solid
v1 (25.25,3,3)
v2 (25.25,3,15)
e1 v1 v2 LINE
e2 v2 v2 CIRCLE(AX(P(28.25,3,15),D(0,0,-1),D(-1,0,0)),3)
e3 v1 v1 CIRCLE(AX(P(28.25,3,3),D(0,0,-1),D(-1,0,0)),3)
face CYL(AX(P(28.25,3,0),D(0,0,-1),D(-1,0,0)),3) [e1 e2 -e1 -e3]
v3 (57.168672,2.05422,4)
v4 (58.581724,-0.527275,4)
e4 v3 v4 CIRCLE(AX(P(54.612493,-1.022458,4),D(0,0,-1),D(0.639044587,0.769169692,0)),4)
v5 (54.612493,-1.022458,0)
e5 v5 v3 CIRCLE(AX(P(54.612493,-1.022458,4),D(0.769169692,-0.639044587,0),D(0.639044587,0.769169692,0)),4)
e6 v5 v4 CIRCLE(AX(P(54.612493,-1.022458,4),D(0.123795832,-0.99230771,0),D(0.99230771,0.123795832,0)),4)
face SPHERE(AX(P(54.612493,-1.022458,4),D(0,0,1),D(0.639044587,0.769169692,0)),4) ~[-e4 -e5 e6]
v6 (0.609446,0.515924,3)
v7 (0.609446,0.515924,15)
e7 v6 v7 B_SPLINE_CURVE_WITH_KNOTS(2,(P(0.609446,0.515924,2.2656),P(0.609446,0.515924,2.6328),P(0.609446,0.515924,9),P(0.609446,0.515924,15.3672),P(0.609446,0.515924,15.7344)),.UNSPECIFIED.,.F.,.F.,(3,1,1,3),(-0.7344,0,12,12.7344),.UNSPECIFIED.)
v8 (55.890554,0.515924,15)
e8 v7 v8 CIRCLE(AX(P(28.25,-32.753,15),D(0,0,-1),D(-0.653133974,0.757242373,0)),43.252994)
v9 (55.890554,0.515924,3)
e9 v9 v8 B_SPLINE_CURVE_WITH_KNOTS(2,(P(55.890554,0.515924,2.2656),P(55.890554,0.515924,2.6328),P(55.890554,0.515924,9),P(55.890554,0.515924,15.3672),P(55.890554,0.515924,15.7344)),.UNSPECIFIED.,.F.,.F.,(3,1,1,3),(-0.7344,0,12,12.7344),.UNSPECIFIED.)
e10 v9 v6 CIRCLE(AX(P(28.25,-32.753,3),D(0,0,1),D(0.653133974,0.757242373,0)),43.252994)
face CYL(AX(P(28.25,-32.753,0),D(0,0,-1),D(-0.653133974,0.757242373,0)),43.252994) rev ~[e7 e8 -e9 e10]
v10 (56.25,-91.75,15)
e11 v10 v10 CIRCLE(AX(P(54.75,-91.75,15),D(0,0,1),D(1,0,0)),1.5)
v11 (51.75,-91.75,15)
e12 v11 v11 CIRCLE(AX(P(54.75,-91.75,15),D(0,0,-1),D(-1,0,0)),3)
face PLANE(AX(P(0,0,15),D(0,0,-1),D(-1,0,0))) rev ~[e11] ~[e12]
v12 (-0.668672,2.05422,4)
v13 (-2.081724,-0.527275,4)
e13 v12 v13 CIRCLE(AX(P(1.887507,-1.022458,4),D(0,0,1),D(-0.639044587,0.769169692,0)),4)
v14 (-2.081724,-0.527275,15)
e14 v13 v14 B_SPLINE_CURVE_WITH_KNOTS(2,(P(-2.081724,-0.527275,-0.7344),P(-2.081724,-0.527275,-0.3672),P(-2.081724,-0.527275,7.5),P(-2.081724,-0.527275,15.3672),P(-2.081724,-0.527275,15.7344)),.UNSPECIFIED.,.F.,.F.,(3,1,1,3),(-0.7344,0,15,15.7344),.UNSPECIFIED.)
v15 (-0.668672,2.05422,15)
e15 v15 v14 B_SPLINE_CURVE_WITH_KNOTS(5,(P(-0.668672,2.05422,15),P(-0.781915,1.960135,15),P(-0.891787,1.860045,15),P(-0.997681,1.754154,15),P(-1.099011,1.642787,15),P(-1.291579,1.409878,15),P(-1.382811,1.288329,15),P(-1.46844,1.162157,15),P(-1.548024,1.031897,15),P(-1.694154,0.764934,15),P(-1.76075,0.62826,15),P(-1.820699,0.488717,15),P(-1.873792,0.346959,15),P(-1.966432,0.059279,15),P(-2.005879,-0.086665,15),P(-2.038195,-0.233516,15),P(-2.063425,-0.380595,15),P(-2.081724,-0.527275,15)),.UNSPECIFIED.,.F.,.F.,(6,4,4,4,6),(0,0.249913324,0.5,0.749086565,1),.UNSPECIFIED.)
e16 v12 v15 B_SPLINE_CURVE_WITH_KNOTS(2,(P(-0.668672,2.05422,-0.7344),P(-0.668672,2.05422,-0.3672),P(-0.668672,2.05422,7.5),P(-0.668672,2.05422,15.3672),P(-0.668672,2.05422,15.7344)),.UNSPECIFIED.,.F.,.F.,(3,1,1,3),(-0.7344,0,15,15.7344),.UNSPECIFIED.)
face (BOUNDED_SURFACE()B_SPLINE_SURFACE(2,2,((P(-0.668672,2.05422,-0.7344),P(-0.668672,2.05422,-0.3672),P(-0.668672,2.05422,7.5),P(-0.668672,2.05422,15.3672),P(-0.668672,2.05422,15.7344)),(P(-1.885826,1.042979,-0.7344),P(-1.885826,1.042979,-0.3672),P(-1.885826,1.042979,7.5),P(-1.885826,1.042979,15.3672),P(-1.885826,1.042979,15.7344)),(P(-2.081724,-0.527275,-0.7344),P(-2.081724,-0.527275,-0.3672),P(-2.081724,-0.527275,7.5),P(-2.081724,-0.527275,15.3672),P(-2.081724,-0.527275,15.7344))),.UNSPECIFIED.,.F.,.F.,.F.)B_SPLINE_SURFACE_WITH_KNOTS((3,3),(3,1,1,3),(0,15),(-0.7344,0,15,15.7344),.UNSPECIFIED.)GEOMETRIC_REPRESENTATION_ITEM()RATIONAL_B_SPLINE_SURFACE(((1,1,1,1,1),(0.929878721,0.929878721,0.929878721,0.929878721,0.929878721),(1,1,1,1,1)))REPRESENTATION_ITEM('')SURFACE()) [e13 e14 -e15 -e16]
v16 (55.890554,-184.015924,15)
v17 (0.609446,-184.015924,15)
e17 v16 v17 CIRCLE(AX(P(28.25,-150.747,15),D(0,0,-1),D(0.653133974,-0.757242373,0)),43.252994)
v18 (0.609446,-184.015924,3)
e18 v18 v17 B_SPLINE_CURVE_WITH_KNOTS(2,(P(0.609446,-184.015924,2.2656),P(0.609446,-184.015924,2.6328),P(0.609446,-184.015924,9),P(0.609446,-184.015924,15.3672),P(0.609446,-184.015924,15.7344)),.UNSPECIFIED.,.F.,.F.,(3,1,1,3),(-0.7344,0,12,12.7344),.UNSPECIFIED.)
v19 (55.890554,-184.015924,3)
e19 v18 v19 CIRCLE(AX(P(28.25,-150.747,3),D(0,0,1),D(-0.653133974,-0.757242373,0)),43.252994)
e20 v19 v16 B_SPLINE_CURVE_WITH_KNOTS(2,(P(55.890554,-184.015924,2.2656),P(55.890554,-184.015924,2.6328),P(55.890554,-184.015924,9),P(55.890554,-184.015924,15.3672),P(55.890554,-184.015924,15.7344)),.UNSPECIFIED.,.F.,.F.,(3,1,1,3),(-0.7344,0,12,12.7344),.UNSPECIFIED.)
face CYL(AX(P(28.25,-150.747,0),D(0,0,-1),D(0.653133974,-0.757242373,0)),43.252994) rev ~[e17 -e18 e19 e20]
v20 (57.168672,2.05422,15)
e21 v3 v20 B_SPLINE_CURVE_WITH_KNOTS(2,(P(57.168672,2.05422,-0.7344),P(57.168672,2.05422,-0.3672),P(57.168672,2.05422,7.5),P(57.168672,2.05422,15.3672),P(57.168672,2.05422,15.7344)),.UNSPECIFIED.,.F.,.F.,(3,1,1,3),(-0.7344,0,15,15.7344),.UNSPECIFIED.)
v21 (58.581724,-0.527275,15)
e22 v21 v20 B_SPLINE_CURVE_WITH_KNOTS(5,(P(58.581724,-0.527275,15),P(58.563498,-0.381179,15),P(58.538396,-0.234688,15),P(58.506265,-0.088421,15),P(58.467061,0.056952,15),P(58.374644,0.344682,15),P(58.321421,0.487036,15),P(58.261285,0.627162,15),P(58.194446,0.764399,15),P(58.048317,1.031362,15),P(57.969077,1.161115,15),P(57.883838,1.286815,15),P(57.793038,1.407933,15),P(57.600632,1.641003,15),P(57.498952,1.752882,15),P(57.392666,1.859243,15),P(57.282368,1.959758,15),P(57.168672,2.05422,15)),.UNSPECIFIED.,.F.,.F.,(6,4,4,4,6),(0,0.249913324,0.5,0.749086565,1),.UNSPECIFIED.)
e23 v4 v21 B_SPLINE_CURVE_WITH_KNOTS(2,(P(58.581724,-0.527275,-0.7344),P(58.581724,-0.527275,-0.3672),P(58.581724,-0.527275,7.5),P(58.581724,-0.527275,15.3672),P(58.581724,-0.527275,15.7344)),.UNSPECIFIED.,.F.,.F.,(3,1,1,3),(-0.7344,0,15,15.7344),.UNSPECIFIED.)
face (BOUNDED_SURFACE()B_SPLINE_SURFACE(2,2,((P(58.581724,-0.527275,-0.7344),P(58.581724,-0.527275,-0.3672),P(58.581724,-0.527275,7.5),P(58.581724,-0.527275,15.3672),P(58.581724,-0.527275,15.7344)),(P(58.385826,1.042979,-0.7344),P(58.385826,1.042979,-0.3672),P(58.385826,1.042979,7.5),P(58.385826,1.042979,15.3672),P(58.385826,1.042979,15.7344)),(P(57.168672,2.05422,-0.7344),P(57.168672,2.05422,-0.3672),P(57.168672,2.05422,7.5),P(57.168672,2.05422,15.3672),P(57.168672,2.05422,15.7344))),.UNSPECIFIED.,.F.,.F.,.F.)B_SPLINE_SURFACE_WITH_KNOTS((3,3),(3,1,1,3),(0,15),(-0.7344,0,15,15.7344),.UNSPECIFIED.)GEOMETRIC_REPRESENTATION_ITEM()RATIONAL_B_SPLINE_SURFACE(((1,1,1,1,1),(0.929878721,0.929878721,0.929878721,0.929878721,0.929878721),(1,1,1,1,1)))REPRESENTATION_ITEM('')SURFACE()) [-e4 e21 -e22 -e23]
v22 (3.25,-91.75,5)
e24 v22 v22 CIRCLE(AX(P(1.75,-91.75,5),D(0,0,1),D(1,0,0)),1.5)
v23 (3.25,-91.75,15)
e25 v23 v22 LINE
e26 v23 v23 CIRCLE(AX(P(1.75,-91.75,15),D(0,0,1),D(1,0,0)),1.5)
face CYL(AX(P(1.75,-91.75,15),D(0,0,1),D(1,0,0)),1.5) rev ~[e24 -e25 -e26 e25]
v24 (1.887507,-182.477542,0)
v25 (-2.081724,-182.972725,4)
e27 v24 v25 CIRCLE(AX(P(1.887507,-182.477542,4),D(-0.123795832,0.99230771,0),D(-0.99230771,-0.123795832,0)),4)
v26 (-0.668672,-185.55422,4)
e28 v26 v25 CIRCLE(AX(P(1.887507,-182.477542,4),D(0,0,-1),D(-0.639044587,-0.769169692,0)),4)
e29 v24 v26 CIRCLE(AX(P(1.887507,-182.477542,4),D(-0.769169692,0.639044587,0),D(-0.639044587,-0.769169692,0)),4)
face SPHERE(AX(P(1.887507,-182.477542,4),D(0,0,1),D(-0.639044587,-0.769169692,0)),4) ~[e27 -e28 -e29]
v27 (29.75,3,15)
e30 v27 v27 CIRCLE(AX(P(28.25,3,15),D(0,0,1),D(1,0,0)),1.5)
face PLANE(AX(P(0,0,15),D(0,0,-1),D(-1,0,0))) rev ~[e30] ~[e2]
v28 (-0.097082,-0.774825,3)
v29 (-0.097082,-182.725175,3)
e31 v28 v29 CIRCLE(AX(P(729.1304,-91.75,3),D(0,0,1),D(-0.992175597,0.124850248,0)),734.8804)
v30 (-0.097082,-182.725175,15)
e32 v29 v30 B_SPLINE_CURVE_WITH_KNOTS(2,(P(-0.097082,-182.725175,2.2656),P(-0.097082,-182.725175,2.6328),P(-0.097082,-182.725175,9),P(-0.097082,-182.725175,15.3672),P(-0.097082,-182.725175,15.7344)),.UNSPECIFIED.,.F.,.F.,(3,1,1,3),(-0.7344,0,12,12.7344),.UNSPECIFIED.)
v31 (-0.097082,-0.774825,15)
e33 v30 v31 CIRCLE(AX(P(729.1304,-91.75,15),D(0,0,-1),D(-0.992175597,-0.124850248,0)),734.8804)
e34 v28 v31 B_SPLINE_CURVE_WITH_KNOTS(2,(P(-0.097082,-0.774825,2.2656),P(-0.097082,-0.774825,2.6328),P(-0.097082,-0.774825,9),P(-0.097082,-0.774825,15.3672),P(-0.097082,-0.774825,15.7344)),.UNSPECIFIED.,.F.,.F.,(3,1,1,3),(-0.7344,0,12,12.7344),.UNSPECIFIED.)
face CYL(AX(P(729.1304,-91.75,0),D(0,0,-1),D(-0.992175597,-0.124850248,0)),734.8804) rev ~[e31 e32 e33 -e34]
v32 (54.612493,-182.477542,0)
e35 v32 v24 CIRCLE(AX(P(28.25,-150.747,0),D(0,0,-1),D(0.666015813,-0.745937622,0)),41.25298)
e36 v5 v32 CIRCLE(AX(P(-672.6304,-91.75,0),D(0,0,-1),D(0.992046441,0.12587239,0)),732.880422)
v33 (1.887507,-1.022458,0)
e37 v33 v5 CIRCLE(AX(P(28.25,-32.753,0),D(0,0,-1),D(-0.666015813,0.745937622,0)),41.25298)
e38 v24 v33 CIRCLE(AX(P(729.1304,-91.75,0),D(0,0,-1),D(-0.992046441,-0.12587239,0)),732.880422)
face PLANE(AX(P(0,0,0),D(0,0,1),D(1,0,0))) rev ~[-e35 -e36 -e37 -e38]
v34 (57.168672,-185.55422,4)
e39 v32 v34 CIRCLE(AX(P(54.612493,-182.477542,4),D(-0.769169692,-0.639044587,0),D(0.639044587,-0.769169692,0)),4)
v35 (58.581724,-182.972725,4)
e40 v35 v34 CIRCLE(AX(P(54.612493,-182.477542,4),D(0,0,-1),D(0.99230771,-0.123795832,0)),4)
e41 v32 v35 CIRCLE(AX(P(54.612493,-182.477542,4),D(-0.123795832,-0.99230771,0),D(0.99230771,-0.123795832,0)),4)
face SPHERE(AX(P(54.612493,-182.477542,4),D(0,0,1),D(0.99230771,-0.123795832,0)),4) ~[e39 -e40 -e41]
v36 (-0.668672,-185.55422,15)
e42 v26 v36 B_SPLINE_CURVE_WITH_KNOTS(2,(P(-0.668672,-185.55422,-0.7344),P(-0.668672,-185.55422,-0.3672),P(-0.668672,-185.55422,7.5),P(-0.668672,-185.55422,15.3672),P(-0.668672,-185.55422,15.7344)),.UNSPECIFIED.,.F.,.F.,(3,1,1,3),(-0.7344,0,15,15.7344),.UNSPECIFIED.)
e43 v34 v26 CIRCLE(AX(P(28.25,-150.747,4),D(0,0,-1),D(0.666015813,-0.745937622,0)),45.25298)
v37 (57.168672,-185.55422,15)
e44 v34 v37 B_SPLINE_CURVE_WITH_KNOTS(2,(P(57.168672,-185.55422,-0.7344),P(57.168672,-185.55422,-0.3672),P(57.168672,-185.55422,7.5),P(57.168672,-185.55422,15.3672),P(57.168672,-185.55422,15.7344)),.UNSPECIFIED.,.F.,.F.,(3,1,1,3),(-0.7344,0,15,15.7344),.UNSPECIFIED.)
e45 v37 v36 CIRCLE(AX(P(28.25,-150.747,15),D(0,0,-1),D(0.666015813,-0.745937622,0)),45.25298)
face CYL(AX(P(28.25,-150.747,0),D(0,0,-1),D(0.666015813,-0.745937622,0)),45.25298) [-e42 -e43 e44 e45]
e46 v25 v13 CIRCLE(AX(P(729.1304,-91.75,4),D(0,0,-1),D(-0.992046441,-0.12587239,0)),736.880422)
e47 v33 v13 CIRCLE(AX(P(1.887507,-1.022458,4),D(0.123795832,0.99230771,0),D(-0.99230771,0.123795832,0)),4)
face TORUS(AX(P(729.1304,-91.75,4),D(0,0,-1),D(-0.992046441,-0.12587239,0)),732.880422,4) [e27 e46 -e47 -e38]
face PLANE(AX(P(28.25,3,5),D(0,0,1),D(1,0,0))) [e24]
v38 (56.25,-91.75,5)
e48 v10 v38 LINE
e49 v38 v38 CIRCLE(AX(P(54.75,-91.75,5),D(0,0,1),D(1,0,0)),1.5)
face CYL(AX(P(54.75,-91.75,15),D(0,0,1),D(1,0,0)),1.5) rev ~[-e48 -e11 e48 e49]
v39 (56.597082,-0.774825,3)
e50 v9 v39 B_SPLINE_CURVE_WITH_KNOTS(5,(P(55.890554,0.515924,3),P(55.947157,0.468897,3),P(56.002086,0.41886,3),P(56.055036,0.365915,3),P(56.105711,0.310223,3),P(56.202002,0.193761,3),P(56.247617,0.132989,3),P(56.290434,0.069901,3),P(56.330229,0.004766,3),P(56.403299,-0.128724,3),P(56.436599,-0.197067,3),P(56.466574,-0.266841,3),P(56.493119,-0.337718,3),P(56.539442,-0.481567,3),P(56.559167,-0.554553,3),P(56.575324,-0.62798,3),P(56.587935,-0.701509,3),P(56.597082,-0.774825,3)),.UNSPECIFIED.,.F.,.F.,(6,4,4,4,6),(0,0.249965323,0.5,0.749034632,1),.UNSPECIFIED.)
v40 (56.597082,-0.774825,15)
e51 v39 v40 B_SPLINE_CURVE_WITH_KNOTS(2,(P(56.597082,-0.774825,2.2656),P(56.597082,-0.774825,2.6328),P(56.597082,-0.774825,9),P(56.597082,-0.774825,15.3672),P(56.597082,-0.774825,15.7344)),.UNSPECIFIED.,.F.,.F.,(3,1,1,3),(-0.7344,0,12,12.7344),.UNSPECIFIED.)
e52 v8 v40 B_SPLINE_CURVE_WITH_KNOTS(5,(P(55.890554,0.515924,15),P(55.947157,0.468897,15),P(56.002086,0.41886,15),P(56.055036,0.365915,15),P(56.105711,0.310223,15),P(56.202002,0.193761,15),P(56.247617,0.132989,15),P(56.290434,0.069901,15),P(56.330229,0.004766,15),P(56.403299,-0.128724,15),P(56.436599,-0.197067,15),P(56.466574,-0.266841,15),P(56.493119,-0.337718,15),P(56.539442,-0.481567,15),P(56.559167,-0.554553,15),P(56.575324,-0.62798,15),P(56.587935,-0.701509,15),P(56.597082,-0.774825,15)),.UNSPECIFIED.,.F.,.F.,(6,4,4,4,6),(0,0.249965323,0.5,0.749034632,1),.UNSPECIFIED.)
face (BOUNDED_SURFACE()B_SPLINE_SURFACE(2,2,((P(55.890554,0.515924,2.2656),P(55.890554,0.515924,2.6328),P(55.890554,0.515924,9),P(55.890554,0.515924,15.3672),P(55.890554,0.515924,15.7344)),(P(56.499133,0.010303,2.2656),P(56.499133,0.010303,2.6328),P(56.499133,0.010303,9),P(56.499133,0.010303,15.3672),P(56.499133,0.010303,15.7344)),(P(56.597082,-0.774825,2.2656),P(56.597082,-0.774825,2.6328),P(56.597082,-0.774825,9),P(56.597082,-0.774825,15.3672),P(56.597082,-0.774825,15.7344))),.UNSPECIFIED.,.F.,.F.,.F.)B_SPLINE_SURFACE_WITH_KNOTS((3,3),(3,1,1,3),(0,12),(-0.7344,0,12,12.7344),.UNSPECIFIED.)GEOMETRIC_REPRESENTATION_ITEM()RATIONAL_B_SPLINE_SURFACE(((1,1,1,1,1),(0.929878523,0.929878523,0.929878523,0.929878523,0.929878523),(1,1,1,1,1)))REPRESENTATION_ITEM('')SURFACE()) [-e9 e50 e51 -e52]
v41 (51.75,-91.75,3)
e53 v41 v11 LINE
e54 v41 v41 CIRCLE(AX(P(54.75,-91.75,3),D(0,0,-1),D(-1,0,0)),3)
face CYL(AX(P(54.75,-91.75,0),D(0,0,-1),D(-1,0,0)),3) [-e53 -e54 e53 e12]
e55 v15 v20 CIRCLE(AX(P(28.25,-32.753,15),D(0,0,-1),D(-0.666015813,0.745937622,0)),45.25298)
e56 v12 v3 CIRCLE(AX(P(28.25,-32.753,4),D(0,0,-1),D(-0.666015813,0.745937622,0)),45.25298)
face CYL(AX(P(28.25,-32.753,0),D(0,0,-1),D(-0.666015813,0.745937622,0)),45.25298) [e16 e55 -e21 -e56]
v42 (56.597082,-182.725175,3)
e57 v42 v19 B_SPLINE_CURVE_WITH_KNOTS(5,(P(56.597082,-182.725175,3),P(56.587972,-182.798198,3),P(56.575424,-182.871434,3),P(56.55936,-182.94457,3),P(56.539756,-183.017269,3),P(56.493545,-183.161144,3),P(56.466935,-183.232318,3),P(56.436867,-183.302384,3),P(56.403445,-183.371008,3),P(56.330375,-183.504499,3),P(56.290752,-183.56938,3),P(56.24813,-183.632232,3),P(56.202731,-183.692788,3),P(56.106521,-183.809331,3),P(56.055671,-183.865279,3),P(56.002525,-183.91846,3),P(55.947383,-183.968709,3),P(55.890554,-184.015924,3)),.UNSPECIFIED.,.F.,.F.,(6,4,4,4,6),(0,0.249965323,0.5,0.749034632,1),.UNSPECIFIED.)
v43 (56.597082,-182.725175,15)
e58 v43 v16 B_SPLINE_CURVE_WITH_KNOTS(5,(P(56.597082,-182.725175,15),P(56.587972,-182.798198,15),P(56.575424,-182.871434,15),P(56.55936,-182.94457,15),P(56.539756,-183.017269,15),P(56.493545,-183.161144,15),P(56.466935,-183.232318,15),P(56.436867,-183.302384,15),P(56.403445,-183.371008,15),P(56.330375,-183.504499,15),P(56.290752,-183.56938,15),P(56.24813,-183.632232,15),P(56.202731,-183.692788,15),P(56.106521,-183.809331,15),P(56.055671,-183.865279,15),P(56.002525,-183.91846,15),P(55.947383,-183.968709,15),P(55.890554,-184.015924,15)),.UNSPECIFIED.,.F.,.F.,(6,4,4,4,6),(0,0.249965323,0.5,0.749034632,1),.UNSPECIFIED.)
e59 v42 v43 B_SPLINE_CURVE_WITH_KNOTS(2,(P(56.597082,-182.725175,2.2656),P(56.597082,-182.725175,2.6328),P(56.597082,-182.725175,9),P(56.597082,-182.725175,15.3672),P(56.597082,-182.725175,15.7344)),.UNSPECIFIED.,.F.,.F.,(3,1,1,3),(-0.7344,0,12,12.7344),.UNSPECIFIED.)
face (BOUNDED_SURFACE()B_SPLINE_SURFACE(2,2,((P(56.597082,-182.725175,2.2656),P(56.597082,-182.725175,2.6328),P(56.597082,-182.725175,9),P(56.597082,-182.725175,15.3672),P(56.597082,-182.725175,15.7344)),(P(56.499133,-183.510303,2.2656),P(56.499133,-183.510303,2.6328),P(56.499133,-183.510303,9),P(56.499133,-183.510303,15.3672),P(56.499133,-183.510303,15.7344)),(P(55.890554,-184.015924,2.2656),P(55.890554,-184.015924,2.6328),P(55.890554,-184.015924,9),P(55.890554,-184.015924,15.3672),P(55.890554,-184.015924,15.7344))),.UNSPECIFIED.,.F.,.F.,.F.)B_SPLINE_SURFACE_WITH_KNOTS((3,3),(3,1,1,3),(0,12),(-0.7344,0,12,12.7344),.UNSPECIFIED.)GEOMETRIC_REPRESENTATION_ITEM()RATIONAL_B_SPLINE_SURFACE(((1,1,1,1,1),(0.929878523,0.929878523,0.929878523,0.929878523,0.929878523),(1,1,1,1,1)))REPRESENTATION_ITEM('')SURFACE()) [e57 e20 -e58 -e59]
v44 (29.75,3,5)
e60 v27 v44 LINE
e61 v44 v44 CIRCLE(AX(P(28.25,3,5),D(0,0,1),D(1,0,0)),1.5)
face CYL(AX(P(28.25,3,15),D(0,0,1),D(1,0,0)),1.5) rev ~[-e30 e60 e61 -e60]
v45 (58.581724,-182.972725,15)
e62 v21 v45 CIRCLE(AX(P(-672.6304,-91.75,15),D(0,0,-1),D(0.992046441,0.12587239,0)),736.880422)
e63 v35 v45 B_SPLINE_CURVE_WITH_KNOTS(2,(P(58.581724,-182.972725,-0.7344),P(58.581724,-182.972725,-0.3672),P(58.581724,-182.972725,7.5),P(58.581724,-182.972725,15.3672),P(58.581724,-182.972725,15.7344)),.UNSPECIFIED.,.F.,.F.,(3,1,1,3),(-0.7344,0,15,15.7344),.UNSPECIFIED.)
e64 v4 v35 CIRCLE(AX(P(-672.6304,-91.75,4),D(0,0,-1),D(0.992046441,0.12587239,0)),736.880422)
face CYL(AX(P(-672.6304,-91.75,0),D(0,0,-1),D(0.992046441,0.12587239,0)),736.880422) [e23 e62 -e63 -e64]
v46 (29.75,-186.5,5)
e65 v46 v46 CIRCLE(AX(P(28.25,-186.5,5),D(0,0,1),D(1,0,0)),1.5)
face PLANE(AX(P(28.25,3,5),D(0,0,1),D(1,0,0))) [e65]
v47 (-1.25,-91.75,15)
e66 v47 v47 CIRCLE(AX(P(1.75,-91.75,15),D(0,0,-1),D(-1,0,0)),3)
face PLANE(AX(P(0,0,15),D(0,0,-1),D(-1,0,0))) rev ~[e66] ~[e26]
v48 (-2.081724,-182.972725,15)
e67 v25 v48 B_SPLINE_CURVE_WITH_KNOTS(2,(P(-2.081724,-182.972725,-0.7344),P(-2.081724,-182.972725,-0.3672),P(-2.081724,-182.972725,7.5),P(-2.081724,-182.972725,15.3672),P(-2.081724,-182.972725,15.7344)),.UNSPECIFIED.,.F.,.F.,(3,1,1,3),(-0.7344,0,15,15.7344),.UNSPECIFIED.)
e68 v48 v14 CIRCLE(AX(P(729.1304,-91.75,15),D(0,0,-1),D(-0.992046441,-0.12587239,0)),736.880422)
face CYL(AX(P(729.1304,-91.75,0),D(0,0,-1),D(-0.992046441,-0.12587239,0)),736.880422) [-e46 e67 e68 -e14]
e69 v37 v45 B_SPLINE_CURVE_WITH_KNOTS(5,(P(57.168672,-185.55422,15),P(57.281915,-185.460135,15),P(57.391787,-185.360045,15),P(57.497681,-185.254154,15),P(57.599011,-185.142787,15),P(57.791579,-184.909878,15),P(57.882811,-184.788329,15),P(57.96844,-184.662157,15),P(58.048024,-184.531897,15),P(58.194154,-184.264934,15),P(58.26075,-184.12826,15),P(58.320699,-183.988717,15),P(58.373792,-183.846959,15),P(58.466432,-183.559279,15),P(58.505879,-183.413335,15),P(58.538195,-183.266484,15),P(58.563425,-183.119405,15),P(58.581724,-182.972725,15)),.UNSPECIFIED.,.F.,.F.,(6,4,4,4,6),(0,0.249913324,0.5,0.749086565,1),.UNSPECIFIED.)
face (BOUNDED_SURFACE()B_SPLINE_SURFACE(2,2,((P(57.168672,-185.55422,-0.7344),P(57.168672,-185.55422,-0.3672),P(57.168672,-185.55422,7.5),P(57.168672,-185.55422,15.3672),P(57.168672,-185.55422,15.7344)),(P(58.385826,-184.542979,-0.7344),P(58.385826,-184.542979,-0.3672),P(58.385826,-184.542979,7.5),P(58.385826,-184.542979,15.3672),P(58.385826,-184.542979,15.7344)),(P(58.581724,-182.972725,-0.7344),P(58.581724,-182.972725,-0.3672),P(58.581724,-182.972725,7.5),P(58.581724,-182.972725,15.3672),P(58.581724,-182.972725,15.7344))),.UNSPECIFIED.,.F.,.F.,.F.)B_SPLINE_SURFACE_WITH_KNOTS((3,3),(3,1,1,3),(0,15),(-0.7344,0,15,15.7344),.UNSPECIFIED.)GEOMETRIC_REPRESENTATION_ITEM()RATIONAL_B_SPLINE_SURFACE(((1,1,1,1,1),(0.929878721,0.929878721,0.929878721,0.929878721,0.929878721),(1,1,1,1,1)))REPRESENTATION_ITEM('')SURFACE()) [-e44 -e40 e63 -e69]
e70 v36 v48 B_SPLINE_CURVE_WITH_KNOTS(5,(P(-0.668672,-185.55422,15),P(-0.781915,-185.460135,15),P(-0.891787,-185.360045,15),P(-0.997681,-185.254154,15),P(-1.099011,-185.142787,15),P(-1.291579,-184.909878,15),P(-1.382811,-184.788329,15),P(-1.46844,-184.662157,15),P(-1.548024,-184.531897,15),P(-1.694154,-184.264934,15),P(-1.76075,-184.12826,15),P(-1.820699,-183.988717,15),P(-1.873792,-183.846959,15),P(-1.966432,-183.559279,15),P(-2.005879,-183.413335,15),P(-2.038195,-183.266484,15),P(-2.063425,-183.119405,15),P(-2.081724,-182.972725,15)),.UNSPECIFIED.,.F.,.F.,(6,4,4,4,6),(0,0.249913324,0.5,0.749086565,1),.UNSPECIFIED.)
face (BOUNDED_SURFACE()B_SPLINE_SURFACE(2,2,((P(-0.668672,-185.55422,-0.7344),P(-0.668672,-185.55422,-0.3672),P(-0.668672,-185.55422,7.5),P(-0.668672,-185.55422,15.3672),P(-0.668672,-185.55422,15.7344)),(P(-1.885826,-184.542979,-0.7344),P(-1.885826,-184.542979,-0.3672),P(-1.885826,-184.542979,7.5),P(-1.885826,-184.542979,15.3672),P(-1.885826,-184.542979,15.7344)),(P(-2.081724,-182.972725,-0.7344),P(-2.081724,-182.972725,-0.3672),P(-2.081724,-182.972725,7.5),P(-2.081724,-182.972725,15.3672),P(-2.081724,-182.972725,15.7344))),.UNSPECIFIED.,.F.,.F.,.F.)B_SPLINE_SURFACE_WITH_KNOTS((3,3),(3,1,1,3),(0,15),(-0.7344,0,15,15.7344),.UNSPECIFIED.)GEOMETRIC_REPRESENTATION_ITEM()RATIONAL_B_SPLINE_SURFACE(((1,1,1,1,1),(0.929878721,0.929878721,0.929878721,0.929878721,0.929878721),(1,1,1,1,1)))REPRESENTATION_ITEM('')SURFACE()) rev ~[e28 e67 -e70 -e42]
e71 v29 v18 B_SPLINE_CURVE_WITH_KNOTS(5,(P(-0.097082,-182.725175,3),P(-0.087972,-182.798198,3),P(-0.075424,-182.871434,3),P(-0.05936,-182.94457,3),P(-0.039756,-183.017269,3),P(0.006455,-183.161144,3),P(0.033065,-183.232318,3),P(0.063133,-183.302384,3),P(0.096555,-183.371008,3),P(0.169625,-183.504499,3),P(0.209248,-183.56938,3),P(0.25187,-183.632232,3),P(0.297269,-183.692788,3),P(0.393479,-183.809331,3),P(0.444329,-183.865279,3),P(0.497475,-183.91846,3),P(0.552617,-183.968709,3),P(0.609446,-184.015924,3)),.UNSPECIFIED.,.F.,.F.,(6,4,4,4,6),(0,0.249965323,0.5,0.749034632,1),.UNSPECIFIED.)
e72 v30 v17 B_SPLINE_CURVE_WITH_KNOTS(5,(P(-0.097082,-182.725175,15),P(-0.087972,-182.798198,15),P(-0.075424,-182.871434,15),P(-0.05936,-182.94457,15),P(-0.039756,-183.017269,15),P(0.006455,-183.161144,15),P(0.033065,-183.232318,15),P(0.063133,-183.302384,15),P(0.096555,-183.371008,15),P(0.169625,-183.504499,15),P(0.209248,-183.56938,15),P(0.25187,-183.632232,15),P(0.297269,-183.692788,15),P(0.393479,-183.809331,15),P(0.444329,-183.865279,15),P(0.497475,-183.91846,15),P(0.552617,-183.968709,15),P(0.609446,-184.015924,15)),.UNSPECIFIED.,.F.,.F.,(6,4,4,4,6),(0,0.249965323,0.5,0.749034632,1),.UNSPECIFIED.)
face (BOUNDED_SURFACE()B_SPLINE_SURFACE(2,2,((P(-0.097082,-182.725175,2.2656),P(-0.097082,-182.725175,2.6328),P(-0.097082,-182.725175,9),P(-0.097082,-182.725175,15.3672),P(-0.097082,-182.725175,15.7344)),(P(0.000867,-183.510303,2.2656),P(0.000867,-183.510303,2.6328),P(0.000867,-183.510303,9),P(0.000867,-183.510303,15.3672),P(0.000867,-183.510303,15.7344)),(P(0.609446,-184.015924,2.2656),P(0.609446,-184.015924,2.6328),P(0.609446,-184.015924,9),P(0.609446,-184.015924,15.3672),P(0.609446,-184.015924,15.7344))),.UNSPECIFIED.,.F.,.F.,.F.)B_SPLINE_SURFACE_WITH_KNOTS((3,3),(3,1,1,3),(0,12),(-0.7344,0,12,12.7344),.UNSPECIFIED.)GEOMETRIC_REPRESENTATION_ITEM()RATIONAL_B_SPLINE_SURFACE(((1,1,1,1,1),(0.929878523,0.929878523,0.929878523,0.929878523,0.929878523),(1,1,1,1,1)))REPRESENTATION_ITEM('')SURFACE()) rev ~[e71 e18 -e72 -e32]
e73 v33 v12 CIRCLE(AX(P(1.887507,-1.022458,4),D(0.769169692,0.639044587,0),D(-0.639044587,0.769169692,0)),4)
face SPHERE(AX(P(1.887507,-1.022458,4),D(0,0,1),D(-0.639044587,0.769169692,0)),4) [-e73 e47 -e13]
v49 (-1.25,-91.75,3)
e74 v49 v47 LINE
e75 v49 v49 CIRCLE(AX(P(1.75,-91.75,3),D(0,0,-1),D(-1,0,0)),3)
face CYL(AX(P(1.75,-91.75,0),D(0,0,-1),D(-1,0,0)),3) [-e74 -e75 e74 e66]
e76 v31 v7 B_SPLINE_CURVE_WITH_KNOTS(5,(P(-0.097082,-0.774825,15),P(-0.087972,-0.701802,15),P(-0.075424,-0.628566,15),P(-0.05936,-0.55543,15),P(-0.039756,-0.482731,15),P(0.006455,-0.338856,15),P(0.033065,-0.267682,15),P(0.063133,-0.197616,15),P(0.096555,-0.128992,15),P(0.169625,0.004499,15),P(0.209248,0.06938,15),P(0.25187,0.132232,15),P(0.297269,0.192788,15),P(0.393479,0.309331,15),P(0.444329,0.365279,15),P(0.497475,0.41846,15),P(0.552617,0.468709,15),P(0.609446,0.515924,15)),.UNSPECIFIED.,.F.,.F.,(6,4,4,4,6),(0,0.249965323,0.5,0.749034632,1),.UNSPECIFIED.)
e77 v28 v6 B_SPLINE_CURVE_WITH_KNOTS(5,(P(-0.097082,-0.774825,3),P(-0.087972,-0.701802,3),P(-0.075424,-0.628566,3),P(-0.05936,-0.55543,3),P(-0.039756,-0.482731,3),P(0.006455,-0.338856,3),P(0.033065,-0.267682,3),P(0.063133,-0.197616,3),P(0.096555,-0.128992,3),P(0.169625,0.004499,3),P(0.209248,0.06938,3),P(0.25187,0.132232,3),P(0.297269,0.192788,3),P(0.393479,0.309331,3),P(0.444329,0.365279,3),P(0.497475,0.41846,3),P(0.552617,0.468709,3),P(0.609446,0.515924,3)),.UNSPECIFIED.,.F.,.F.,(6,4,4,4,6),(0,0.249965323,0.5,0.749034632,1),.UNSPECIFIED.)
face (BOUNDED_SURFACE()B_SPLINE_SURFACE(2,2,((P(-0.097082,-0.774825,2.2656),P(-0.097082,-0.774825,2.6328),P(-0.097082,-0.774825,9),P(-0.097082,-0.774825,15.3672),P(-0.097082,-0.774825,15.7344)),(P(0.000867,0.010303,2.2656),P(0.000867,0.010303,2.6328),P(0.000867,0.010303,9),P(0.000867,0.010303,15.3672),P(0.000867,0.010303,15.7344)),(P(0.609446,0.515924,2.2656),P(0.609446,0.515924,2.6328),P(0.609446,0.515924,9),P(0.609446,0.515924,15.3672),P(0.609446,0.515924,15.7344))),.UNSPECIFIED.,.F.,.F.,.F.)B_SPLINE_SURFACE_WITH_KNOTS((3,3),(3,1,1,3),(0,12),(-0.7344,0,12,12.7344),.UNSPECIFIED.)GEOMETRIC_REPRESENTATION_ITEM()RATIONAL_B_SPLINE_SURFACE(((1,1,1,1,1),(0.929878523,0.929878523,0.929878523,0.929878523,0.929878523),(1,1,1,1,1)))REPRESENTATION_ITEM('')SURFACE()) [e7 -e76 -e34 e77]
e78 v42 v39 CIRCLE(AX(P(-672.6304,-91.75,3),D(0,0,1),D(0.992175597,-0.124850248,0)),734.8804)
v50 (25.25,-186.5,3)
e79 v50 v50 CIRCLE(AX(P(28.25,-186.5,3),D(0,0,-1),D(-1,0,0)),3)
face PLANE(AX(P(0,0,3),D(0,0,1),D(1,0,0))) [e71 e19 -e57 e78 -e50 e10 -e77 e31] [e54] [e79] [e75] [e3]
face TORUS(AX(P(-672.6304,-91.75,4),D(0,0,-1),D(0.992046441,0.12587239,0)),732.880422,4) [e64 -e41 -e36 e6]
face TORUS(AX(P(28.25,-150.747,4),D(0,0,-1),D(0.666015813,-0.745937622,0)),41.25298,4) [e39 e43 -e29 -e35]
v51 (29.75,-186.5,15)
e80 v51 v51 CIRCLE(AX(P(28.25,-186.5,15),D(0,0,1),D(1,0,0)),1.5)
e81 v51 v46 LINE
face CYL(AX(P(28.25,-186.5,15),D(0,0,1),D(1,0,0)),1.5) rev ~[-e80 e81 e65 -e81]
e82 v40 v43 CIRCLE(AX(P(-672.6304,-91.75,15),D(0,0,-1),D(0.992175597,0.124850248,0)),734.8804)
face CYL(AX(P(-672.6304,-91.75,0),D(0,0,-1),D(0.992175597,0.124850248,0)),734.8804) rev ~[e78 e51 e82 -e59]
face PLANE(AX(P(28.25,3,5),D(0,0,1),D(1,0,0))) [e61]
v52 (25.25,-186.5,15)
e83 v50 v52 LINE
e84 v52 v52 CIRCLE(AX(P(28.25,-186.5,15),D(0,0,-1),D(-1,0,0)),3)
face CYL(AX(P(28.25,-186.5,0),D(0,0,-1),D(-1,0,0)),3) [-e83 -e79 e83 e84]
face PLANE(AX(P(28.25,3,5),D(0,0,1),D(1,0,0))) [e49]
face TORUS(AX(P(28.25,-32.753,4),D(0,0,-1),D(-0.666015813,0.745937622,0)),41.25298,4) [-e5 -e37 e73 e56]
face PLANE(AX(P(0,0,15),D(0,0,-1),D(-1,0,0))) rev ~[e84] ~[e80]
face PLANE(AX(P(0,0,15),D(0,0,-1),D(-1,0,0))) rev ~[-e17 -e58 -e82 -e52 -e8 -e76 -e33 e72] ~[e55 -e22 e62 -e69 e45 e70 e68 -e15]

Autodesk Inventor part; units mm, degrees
ref_plane "YZ Plane" through (0, 0, 0) normal (1, 0, 0) x (0, 1, 0)
ref_plane "XZ Plane" through (0, 0, 0) normal (0, 1, 0) x (-1, 0, 0)
ref_plane "XY Plane" through (0, 0, 0) normal (0, 0, 1) x (1, 0, 0)
sketch "Skizze1" plane through (0, 0, 0) normal (0, 0, 1) x (1, 0, 0)
  line L0 (0, 0) -> (56.5, 0) construction
  line L1 (56.5, 0) -> (56.5, -183.5) construction
  line L2 (0, 0) -> (56.5, 0) construction
  line L3 (56.5, 0) -> (56.5, -183.5) construction
  line L4 (56.5, -183.5) -> (0, -183.5) construction
  line L5 (0, -183.5) -> (0, 0) construction
  line L6 (28.25, 0) -> (28.25, 3) construction
  line L7 (28.25, -183.5) -> (28.25, -186.5) construction
  line L8 (28.25, -91.75) -> (1.75, -91.75) construction
  line L9 (28.25, -91.75) -> (-5.75, -91.75) construction
  line L10 (28.25, -91.75) -> (54.75, -91.75) construction
  line L11 (28.25, -91.75) -> (62.25, -91.75) construction
  circle A0 centre (28.25, 3) radius 1.5
  circle A1 centre (28.25, 3) radius 3
  line L12 (28.25, 3) -> (28.25, 10.5) construction
  circle A2 centre (28.25, -186.5) radius 1.5
  circle A3 centre (28.25, -186.5) radius 3
  line L13 (28.25, -186.5) -> (28.25, -194) construction
  circle A4 centre (1.75, -91.75) radius 1.5
  circle A5 centre (1.75, -91.75) radius 3
  circle A6 centre (54.75, -91.75) radius 1.5
  circle A7 centre (54.75, -91.75) radius 3
  line L14 (28.25, -183.5) -> (28.25, -153.093) construction
  line L15 (0, 0) -> (-5.75, -91.75) construction
  line L16 (-5.75, -91.75) -> (0, -183.5) construction
  line L17 (62.25, -91.75) -> (56.25, 0) construction
  arc A8 (0, 0) -> (0, -183.5) centre (729.1304, -91.75) ccw
  line L18 (60.0727, -126.4918) -> (62.25, -91.75) construction
  arc A9 (56.5, 0) -> (0, 0) centre (28.25, -32.753) ccw
  arc A10 (56.5, -183.5) -> (56.5, 0) centre (-672.6304, -91.75) ccw
  arc A11 (0, -183.5) -> (56.5, -183.5) centre (28.25, -150.747) ccw
extrude "Extrusion1" add sketch "Skizze1" along normal blind 3 contours A9 A10 A11 A8
sketch "Skizze2" plane through (0, 0, 0) normal (0, 0, -1) x (-1, 0, 0)
  circle A0 centre (-54.75, -91.75) radius 3 construction
  circle A1 centre (-1.75, -91.75) radius 3 construction
  circle A2 centre (-28.25, -186.5) radius 3 construction
  circle A3 centre (-28.25, 3) radius 3 construction
  arc A4 (0, -183.5) -> (0, 0) centre (-729.1304, -91.75) ccw projected
  arc A5 (0, 0) -> (-56.5, 0) centre (-28.25, -32.753) ccw projected
  arc A6 (-56.5, 0) -> (-56.5, -183.5) centre (672.6304, -91.75) ccw projected
  arc A7 (-56.5, -183.5) -> (0, -183.5) centre (-28.25, -150.747) ccw projected
  arc A8 (1.8892, -184.5029) -> (1.8892, 1.0029) centre (-729.1304, -91.75) ccw
  arc A9 (-58.3892, -184.5029) -> (1.8892, -184.5029) centre (-28.25, -150.747) ccw
  arc A10 (-58.3892, 1.0029) -> (-58.3892, -184.5029) centre (672.6304, -91.75) ccw
  arc A11 (1.8892, 1.0029) -> (-58.3892, 1.0029) centre (-28.25, -32.753) ccw
  dimension "d25" = 2
extrude "Extrusion2" add sketch "Skizze2" against normal blind 15
sketch "Skizze3" plane through (0, 0, 0) normal (0, 0, -1) x (-1, 0, 0)
  circle A0 centre (-28.25, 3) radius 3 projected
  circle A1 centre (-1.75, -91.75) radius 3 projected
  circle A2 centre (-54.75, -91.75) radius 3 projected
  circle A3 centre (-28.25, -186.5) radius 3 projected
  point P0 (0, 0)
extrude "Extrusion3" add sketch "Skizze3" against normal blind 15
sketch "Skizze4" plane through (28.25, 3, 15) normal (0, 0, 1) x (1, 0, 0)
  circle A0 centre (0, 0) radius 1.5
  circle A1 centre (-26.5, -94.75) radius 3 construction
  circle A2 centre (26.5, -94.75) radius 3 construction
  circle A3 centre (0, -189.5) radius 3 construction
  circle A4 centre (-26.5, -94.75) radius 1.5
  circle A5 centre (26.5, -94.75) radius 1.5
  circle A6 centre (0, -189.5) radius 1.5
  point P0 (-28.25, -3)
  dimension "d30" = 3
  dimension "d31" = 3
  dimension "d32" = 3
  dimension "d33" = 3
extrude "Extrusion4" cut sketch "Skizze4" against normal blind 10
fillet "Rundung1" radius 2 4 edges at (0, 0, 9) (56.5, 0, 9) (56.5, -183.5, 9) (0, -183.5, 9)
fillet "Rundung2" radius 4 8 edges at (64.25, -91.75, 0) (58.3892, 1.0029, 7.5) (28.25, 12.5, 0) (28.25, -196, 0) (-7.75, -91.75, 0) (-1.8892, 1.0029, 7.5) (58.3892, -184.5029, 7.5) (-1.8892, -184.5029, 7.5)
properties part number "armrest"
